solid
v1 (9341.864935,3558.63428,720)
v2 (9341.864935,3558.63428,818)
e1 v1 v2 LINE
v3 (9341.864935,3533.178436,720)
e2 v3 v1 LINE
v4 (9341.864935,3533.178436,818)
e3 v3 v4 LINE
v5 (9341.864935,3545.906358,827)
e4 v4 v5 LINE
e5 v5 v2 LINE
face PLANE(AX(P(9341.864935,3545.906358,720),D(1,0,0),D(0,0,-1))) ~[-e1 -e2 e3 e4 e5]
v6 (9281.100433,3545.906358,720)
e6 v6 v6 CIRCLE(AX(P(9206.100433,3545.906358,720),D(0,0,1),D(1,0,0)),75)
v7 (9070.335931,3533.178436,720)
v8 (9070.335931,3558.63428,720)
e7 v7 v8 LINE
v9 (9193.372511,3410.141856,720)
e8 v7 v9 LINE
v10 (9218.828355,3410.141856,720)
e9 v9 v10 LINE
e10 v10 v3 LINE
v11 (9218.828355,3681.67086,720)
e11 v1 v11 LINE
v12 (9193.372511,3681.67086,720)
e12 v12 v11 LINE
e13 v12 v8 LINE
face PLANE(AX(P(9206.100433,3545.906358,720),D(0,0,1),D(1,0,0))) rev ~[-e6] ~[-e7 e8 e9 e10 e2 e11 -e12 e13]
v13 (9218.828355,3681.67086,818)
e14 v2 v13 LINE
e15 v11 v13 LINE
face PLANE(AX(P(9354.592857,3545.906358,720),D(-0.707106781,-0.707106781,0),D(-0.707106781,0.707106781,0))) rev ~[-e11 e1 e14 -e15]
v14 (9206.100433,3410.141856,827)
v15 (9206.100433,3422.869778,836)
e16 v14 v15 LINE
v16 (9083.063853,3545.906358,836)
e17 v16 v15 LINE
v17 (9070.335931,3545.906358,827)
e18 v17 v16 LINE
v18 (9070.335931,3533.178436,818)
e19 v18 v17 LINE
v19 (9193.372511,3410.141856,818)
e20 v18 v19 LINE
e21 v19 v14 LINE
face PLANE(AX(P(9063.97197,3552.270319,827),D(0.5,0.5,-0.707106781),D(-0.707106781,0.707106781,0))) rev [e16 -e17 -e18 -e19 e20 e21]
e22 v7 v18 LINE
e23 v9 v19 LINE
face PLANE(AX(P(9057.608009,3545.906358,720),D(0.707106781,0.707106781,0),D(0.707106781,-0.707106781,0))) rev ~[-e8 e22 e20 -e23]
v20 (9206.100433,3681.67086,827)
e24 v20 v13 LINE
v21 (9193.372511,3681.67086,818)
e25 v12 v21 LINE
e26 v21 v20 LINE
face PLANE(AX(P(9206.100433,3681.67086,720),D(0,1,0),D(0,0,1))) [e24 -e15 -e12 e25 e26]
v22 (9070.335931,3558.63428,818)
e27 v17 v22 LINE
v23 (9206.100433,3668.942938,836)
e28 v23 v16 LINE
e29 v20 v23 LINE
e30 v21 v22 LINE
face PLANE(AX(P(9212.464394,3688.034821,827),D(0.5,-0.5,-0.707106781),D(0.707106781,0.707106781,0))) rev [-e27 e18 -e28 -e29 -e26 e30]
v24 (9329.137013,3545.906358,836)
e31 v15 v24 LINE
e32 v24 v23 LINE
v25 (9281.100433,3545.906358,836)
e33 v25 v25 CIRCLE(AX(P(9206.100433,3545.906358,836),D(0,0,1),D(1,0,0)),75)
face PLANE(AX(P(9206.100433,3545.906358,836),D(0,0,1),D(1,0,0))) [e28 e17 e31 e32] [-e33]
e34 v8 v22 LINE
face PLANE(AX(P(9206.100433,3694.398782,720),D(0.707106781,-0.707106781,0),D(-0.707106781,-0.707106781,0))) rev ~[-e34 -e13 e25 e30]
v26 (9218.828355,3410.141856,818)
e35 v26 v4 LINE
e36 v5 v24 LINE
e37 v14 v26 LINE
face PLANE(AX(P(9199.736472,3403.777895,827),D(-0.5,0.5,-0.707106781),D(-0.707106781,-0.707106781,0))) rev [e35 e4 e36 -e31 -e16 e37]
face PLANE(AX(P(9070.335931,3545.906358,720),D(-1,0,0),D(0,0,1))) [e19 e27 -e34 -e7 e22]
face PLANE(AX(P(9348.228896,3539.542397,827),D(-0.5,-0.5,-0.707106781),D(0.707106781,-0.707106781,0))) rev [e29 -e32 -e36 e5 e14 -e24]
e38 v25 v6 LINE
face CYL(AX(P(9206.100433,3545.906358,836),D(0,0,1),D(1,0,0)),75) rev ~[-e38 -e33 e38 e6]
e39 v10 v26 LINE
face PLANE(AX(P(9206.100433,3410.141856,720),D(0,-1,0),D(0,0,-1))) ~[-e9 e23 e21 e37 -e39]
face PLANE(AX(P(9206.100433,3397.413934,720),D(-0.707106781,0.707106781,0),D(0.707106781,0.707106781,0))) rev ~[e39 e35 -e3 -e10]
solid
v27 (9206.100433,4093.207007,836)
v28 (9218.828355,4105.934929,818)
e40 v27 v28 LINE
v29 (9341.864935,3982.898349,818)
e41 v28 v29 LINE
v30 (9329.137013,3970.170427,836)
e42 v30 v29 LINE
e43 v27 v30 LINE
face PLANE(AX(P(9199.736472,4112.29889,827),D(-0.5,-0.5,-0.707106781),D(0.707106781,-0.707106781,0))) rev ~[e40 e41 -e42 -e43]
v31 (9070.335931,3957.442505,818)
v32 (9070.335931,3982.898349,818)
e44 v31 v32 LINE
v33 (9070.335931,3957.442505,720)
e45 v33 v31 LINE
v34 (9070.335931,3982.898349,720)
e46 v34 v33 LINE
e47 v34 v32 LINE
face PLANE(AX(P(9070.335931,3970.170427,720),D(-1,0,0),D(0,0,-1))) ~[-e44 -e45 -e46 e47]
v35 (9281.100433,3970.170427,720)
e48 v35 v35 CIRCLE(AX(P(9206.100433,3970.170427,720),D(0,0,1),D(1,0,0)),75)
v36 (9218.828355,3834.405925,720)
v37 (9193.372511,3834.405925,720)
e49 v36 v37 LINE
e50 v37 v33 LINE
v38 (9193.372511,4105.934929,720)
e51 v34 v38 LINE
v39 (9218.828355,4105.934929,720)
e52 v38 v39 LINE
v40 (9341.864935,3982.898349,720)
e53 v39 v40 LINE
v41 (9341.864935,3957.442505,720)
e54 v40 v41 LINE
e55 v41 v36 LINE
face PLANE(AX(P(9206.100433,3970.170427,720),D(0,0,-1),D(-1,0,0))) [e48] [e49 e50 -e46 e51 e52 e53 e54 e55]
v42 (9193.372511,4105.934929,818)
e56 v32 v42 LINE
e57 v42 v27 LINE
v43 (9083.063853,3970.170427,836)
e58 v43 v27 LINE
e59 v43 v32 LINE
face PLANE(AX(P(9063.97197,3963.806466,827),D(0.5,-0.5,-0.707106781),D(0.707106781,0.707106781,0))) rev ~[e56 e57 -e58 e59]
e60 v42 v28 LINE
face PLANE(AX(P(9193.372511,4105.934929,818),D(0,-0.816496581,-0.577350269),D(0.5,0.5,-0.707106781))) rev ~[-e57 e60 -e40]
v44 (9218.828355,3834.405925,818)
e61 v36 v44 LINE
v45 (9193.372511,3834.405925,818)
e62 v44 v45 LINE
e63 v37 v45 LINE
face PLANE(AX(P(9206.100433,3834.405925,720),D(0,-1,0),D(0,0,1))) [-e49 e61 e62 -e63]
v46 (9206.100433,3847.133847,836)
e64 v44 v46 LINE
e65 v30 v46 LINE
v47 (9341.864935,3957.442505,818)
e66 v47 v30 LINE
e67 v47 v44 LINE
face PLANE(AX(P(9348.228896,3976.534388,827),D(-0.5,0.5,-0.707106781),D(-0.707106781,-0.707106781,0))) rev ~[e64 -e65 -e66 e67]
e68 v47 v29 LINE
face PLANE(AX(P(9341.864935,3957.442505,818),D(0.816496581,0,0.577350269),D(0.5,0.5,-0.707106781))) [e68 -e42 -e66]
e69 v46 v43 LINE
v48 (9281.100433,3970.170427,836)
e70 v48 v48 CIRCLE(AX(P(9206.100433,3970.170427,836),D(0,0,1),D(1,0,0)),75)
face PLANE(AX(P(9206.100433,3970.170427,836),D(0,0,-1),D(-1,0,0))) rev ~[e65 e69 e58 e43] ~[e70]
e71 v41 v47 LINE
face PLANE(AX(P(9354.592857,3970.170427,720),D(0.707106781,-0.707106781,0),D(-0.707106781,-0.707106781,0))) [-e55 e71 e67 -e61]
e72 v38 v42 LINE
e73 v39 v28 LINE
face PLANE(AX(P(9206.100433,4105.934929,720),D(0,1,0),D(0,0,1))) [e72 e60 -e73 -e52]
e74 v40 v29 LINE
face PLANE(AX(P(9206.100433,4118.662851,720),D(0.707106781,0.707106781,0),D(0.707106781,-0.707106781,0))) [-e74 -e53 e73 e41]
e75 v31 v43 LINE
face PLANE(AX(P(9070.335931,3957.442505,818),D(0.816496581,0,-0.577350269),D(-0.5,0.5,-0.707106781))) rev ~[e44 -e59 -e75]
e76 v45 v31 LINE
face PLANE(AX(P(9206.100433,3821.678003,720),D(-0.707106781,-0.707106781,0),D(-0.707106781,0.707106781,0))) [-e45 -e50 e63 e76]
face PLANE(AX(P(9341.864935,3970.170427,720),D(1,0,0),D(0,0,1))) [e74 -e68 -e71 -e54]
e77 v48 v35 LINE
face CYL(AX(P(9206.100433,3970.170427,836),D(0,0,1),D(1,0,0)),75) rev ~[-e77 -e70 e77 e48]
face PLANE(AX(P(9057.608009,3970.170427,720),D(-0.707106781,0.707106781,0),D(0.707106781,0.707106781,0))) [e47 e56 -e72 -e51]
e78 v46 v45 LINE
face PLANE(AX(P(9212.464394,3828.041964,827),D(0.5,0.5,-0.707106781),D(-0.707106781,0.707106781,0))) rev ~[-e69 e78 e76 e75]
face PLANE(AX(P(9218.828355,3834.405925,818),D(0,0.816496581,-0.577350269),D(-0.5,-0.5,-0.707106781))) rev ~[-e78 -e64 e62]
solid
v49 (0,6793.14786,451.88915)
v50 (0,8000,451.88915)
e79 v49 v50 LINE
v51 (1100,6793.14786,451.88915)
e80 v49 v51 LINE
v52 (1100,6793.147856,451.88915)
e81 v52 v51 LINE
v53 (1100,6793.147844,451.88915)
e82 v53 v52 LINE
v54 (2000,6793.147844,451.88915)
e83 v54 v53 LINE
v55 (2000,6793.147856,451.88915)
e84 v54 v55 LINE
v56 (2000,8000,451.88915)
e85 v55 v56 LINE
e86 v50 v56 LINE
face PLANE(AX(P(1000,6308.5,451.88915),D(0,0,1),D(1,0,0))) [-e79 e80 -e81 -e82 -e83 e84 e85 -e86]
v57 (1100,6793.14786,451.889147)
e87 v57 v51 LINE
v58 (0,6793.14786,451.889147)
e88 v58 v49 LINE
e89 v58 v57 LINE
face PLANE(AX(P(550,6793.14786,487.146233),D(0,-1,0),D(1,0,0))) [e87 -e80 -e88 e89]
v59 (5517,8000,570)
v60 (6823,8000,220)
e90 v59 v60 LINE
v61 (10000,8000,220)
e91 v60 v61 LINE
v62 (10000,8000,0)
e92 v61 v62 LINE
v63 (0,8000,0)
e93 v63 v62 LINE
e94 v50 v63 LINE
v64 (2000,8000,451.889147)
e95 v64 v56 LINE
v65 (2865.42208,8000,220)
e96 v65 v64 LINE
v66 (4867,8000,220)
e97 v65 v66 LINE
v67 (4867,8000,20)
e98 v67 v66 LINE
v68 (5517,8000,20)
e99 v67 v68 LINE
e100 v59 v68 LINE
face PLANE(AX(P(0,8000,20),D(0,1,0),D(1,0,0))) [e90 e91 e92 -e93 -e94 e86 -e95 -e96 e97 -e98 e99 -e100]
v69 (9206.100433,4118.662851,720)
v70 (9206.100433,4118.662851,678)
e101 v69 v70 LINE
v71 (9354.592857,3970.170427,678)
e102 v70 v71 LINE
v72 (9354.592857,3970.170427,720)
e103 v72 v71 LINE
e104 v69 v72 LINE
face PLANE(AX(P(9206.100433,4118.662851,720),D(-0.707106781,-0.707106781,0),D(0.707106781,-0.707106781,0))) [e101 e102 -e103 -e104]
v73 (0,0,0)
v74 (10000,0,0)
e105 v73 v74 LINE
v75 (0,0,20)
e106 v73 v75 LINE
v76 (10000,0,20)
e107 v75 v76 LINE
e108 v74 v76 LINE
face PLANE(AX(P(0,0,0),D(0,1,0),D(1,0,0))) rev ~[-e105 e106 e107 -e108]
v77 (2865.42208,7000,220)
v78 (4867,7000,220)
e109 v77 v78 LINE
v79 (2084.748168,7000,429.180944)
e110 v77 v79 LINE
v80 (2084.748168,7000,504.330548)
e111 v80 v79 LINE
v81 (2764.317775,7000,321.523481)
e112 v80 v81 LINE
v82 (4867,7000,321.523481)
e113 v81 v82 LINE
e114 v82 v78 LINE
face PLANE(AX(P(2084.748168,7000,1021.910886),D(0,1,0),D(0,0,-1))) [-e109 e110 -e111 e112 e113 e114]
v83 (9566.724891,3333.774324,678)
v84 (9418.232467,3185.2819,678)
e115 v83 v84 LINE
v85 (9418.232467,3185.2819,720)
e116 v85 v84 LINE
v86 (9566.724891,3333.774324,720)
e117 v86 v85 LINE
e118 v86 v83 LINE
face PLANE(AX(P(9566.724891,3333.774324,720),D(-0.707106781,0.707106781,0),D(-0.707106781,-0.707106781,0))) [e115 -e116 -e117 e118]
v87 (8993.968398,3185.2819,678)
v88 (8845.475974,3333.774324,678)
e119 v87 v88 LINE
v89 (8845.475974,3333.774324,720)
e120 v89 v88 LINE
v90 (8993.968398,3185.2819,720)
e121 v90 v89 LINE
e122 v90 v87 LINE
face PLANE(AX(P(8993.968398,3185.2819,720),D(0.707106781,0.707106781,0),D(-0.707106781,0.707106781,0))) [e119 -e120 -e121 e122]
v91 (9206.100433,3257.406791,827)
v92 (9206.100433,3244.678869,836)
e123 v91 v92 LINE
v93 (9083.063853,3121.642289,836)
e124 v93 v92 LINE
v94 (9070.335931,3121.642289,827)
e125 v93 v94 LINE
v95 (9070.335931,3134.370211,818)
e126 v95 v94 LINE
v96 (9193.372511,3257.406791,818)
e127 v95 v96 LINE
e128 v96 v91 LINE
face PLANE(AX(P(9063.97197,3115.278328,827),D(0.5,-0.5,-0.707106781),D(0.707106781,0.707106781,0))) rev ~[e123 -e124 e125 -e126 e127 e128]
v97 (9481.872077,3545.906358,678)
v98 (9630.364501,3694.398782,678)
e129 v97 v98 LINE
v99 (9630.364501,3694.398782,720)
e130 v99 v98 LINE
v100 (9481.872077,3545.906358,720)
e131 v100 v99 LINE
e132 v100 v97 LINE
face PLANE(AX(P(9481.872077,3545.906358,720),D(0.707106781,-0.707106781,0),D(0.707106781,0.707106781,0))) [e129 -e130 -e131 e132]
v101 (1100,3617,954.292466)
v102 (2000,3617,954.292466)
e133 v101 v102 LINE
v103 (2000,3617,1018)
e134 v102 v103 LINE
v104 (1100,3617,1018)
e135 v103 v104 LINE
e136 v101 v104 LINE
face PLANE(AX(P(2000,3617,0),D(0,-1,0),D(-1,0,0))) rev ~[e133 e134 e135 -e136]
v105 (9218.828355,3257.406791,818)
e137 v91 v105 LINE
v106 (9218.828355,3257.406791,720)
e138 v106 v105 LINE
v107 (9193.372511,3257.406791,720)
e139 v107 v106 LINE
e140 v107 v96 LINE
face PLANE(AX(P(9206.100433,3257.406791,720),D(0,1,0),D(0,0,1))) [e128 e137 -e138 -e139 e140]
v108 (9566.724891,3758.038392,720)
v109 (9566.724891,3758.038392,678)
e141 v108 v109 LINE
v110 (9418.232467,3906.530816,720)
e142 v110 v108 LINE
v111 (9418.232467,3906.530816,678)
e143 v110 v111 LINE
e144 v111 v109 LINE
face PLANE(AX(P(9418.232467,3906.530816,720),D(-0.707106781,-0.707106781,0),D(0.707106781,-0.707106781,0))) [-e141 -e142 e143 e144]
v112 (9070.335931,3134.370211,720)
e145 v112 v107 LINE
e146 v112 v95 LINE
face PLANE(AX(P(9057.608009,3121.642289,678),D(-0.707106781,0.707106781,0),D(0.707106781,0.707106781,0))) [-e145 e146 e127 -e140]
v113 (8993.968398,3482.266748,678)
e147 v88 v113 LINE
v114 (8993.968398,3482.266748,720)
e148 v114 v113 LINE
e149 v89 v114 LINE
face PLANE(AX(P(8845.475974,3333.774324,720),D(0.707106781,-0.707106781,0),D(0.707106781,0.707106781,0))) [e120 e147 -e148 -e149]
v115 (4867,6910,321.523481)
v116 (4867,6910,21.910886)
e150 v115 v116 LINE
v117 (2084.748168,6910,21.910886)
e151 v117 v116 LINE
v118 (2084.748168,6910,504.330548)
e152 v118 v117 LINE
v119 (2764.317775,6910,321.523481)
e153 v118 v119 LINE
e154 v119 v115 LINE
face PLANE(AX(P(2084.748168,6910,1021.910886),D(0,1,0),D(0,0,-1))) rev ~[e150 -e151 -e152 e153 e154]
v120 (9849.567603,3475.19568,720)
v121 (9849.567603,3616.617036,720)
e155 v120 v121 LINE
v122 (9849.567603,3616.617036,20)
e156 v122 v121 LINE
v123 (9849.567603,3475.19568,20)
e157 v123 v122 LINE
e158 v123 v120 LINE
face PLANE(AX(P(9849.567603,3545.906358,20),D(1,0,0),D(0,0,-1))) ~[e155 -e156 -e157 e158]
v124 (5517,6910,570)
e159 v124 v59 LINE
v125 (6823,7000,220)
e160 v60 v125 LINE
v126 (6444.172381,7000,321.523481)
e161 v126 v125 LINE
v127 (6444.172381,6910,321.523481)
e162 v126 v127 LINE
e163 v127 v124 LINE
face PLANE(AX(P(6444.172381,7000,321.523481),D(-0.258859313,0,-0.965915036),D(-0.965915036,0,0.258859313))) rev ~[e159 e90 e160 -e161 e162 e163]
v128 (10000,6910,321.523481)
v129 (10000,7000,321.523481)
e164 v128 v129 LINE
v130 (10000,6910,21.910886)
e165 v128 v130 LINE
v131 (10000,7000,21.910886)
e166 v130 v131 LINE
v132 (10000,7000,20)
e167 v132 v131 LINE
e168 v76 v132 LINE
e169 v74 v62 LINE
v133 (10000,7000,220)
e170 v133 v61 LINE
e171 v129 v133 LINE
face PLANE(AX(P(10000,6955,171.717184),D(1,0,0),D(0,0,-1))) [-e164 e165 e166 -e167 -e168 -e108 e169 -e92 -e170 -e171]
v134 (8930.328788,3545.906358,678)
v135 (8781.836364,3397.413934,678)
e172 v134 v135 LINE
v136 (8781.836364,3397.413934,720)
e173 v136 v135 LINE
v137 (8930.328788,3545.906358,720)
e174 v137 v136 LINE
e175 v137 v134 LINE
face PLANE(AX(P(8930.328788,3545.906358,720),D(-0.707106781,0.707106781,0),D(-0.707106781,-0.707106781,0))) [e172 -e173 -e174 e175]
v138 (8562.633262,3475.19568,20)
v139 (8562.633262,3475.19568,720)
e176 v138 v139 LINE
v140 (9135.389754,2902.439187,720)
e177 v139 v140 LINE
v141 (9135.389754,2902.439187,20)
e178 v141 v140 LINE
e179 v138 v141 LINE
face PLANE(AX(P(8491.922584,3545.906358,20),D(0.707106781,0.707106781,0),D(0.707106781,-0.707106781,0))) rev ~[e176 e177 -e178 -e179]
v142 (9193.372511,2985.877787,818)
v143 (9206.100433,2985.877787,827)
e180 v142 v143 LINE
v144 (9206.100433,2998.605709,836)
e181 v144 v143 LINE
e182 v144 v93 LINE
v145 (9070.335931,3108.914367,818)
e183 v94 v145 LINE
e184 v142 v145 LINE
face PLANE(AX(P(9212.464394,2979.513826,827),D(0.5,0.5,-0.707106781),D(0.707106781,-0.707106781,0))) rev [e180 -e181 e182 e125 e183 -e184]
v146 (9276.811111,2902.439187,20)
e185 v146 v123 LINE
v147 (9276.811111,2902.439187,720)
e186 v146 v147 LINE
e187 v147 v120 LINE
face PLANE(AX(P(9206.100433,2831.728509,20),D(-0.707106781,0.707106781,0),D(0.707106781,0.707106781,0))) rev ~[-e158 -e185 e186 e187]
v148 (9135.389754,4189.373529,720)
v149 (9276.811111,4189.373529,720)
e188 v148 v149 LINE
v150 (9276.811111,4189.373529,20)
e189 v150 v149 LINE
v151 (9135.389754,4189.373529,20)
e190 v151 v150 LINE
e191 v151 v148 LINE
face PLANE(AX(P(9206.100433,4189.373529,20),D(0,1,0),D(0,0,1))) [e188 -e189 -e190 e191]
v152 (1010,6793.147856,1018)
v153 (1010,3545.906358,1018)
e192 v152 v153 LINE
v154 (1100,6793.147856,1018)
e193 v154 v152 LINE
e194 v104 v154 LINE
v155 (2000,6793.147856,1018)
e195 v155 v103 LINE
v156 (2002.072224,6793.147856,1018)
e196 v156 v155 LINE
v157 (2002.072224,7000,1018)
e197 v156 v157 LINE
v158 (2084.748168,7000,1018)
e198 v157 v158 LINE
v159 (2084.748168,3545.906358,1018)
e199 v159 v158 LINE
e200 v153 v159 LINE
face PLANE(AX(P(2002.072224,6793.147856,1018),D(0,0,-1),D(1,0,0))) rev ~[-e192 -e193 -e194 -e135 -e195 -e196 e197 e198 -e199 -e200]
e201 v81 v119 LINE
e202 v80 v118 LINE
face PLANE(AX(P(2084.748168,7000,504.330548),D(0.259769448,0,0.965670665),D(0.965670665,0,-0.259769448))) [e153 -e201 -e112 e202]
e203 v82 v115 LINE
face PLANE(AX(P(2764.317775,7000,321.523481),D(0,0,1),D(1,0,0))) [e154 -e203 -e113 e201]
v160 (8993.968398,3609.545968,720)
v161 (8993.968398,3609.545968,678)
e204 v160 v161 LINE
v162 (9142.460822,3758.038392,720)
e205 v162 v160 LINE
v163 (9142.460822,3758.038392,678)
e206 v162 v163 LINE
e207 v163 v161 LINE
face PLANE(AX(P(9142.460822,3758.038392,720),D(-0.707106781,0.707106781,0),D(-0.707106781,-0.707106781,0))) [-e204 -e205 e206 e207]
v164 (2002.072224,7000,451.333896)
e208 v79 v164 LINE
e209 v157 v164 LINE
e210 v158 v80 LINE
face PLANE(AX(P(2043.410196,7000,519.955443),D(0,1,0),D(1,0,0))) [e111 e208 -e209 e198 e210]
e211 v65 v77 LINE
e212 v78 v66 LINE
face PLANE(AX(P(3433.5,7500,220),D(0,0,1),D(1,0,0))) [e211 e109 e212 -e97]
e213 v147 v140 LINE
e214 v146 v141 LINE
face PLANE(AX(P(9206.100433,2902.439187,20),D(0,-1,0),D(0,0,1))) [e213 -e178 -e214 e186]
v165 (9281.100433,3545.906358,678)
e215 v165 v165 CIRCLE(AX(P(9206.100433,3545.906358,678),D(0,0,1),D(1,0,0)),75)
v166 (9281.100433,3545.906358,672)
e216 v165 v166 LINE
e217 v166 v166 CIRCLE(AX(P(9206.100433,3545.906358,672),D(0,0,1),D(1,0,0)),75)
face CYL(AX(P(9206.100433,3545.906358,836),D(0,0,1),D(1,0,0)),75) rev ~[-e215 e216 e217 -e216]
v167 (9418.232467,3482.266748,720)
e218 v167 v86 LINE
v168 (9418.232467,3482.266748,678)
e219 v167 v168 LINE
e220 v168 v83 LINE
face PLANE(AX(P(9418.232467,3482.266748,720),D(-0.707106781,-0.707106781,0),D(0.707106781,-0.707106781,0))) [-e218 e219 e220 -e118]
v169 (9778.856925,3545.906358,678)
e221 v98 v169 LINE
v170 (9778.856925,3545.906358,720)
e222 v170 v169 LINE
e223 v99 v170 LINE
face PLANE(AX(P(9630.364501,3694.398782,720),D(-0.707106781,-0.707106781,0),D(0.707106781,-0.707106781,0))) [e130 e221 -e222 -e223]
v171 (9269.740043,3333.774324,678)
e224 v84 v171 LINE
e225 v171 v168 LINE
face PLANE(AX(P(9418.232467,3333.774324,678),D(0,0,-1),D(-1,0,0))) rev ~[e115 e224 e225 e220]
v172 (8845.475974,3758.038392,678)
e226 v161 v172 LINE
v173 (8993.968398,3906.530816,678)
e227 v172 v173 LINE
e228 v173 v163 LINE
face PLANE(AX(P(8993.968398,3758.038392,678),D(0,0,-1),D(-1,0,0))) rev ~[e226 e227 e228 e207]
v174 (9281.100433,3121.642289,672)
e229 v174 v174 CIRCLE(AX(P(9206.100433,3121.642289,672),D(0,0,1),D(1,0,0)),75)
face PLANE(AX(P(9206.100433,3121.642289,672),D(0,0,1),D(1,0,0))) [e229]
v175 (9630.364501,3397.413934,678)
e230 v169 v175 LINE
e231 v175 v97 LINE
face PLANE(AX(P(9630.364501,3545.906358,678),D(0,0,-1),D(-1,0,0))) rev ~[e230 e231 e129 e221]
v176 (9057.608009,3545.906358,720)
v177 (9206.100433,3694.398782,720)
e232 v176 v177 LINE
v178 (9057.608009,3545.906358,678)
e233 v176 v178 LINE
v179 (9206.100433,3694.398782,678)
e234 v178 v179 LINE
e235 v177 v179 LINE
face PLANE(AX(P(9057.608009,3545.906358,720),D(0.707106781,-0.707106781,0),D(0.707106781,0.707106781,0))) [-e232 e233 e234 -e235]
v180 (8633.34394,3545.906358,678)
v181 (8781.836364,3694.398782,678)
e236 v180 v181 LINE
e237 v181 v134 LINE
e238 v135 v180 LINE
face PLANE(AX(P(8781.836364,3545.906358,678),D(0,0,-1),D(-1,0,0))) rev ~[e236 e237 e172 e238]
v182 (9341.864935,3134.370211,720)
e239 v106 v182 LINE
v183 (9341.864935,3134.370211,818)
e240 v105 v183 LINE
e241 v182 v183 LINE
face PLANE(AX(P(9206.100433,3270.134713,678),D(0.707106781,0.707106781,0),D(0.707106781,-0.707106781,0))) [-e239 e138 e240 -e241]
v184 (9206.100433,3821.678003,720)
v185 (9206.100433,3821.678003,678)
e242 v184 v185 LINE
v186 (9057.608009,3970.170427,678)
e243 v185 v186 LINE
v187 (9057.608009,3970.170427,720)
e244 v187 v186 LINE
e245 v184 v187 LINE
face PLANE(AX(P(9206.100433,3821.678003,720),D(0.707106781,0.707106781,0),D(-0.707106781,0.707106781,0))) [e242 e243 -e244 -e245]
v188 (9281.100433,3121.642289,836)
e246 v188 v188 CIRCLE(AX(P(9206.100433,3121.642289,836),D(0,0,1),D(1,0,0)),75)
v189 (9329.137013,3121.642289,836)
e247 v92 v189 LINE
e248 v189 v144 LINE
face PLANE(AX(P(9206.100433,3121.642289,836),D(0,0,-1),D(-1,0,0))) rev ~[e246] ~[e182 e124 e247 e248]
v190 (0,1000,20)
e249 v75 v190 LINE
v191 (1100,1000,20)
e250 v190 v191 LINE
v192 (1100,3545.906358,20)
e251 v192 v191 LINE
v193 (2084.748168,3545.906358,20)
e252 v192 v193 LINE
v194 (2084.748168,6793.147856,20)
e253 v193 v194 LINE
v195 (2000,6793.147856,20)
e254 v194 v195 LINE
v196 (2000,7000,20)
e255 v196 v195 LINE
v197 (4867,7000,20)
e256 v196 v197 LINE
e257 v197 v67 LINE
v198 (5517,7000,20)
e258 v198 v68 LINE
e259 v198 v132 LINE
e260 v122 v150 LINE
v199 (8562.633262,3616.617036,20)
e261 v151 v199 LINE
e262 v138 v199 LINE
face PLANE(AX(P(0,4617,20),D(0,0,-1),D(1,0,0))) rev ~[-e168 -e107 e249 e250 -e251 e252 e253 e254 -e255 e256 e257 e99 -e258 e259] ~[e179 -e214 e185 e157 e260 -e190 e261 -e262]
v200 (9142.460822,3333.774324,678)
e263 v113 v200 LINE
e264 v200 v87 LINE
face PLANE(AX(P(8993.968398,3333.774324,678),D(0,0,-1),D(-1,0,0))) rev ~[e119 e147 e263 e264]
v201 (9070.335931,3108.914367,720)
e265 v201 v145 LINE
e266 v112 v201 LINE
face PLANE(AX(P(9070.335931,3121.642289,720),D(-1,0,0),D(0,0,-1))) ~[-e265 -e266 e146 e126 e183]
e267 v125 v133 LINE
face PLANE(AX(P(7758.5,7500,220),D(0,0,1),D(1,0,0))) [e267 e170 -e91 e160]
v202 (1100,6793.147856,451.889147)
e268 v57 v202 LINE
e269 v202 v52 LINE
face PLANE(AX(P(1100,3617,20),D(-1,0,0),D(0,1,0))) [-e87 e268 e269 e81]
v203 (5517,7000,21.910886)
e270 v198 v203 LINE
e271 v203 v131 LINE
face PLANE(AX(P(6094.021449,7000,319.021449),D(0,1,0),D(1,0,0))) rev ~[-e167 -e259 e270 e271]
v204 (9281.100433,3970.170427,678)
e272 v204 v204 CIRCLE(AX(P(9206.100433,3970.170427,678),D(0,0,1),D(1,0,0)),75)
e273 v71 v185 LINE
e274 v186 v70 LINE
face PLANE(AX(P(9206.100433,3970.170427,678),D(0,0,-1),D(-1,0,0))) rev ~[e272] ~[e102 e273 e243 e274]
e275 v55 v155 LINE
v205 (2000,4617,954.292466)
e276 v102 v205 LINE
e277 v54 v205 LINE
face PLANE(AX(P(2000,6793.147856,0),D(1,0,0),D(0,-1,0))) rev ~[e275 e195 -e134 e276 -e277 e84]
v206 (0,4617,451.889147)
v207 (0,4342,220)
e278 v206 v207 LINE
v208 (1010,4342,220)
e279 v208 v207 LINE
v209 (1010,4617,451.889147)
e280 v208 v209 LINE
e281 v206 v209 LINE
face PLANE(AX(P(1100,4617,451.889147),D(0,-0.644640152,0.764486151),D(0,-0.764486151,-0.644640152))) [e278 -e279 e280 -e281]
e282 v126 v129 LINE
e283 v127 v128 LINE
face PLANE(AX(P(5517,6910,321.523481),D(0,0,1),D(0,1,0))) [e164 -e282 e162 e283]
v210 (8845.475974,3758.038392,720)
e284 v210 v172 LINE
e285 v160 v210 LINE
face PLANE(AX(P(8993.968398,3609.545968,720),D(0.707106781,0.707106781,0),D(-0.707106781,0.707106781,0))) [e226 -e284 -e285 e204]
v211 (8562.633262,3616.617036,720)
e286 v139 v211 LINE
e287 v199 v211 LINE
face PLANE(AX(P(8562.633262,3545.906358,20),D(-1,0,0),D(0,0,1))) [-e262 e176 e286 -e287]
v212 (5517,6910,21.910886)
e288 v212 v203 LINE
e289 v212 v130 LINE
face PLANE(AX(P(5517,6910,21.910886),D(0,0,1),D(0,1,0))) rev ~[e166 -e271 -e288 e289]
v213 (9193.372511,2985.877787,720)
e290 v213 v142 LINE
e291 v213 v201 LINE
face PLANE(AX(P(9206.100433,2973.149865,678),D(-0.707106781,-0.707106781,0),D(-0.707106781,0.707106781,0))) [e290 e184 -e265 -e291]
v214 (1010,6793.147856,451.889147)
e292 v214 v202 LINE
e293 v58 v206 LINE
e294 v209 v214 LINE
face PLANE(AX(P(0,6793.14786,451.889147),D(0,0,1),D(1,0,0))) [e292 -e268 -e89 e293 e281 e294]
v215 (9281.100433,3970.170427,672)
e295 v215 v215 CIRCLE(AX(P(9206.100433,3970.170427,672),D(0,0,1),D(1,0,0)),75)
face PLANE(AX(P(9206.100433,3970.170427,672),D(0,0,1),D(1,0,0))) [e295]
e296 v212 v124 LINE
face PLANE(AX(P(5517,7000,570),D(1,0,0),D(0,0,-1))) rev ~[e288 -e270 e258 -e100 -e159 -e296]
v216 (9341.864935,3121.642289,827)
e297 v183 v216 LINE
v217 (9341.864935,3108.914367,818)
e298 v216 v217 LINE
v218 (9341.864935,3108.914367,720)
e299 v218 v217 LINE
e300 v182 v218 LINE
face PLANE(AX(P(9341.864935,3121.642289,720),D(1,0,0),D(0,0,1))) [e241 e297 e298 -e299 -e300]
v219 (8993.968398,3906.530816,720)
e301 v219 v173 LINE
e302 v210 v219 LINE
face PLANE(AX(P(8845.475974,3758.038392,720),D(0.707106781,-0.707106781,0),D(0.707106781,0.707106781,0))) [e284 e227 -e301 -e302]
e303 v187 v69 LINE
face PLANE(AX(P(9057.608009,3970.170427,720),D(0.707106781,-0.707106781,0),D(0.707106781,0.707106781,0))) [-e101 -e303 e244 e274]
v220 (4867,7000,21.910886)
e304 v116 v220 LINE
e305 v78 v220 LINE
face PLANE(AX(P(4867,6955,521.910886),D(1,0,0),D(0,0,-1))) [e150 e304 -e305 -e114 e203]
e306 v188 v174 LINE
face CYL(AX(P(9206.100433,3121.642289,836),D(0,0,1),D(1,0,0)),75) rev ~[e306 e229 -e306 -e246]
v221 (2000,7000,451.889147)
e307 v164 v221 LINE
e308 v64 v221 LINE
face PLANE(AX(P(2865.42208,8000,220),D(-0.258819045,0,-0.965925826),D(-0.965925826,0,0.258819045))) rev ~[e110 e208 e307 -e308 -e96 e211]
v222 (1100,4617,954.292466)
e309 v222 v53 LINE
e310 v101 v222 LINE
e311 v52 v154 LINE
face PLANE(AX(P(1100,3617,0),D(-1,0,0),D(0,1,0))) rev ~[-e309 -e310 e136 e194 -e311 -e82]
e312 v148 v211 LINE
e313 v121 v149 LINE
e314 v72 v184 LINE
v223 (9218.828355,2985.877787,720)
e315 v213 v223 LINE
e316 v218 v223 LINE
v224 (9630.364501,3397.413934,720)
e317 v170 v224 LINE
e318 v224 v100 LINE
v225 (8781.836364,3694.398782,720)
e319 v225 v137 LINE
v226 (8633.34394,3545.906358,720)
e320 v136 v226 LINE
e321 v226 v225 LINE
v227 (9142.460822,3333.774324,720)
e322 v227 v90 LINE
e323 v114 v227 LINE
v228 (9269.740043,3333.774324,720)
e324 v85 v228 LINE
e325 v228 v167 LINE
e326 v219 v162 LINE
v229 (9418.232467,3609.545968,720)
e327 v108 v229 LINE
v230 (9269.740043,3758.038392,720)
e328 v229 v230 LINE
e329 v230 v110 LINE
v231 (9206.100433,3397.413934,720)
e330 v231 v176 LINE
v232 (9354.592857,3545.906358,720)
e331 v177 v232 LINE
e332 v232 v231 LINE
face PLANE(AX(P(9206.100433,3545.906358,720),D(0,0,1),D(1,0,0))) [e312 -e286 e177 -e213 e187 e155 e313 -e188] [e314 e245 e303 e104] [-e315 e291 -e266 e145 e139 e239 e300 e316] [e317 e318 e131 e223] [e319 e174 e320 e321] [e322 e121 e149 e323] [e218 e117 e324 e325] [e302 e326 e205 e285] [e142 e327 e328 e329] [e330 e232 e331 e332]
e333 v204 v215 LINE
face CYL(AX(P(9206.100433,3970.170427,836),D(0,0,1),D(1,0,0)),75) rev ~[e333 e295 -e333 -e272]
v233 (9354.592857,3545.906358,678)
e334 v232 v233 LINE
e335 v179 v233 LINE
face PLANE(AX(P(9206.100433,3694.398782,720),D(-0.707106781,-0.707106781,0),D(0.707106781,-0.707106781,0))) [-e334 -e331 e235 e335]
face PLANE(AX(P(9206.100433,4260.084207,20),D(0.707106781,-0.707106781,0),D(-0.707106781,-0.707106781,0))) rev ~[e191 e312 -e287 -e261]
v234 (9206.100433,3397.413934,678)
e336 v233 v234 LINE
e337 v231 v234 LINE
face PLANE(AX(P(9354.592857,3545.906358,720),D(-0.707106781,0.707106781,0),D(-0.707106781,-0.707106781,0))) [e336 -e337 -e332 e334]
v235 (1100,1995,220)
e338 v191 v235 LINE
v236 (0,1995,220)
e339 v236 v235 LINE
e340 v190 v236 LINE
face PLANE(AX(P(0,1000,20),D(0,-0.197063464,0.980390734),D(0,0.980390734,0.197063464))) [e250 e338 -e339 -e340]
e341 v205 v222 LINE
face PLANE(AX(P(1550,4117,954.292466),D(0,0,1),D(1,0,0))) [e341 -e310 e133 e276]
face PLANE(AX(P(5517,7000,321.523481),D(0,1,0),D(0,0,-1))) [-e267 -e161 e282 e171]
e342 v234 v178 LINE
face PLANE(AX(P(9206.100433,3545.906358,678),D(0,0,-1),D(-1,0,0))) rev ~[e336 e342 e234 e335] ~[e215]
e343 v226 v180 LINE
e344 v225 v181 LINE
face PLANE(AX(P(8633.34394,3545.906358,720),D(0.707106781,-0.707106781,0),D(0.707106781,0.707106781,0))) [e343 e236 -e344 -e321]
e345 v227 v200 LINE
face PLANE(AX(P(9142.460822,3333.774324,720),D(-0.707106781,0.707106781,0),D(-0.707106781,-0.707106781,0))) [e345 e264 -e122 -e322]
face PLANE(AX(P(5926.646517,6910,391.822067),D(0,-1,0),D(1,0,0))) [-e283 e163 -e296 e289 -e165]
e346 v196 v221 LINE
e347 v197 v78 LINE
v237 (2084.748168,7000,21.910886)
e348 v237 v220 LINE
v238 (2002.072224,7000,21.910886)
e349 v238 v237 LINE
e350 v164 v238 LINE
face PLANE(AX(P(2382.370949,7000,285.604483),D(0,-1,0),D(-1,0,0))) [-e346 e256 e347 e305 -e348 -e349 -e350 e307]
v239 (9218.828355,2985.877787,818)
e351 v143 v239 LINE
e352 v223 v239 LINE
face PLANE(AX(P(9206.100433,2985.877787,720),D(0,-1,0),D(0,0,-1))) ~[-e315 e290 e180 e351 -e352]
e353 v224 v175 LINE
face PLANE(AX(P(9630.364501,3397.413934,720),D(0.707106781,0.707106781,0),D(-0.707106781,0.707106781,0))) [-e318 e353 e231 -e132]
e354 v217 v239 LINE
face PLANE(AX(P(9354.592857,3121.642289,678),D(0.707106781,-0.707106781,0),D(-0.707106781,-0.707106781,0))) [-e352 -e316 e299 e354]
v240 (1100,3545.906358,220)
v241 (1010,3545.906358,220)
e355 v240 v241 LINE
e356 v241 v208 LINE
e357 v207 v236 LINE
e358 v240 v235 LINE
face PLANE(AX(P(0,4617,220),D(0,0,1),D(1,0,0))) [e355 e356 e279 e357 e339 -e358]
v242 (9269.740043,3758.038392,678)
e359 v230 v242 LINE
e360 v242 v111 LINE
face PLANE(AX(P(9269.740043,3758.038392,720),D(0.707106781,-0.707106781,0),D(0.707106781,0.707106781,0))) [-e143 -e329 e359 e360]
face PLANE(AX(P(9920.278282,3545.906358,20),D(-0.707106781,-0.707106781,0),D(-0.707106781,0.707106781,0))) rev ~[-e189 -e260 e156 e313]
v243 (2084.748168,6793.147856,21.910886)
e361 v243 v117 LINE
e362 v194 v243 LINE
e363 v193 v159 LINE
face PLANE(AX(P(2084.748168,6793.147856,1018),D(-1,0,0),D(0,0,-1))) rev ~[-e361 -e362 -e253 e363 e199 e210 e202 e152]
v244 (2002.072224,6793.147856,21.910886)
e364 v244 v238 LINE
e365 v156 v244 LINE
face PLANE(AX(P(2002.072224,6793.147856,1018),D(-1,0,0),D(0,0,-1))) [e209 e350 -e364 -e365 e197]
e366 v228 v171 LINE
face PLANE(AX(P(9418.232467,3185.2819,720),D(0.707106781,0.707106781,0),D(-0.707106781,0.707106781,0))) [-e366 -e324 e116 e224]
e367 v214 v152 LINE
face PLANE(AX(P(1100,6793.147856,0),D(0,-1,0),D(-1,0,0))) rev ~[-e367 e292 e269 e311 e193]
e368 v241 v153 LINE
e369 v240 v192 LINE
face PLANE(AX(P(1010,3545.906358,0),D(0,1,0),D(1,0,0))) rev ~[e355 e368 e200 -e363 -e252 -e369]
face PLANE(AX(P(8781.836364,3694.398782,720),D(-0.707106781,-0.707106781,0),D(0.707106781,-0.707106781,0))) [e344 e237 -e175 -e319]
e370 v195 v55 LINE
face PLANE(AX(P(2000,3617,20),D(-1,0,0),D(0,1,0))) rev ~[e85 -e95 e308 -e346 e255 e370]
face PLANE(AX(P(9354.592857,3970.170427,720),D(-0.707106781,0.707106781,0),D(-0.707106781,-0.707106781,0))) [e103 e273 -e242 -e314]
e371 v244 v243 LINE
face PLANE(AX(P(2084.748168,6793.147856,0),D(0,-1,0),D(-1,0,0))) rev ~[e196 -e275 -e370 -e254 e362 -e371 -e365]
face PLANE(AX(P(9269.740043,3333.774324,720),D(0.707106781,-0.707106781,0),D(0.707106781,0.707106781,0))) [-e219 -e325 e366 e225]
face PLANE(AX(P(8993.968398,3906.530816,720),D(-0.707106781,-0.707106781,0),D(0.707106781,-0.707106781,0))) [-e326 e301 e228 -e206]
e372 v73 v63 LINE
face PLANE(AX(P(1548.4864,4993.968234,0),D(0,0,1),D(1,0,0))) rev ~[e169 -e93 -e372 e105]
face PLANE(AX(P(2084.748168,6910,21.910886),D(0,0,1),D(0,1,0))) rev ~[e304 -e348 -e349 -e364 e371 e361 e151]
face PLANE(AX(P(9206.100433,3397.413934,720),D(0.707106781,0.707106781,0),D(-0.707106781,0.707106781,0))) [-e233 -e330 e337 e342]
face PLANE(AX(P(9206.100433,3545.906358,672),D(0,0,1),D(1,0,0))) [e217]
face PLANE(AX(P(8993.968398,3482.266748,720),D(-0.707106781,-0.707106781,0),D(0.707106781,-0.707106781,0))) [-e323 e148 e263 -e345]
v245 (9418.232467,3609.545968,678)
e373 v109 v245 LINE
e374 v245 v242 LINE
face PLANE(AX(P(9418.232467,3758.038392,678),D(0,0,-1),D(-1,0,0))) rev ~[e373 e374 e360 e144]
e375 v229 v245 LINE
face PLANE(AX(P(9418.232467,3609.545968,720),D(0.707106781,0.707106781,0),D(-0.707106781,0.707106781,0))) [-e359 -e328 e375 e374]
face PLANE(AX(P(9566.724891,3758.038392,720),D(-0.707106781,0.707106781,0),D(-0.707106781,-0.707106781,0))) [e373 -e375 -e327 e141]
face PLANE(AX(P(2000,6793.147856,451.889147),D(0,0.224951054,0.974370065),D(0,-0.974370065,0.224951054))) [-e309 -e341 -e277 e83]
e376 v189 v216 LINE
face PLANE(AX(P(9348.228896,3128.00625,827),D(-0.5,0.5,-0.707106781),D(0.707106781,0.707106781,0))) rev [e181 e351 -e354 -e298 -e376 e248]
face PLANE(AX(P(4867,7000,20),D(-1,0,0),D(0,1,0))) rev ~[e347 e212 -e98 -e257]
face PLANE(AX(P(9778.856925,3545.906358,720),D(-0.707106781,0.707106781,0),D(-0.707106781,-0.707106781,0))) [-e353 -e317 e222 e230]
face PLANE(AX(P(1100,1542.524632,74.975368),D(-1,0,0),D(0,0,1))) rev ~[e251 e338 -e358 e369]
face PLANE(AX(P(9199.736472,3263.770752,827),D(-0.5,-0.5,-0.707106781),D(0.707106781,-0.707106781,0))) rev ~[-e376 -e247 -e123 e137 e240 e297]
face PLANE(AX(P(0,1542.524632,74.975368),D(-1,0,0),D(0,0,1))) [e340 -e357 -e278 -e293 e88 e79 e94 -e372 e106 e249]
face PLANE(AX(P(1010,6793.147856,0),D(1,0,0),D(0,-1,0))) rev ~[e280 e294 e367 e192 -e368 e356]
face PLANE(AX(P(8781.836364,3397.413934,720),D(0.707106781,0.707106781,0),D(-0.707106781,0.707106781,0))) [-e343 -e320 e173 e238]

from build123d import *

# Parameters (mm, degrees)
SKETCH_1_W                  = 10000
SKETCH_1_H                  = 8000
EXTRUDE_1_DEPTH             = 20
SKETCH_2_W                  = 4483
SKETCH_2_H                  = 1000
EXTRUDE_2_DEPTH             = 200
EXTRUDE_3_DEPTH             = 1000
SKETCH_5_W                  = 2867
SKETCH_5_H                  = 1000
EXTRUDE_4_DEPTH             = 200
EXTRUDE_5_DEPTH             = 1000
SKETCH_7_W                  = 2000
SKETCH_7_H                  = 3383
EXTRUDE_6_DEPTH             = 431.88915
EXTRUDE_7_DEPTH             = 2000
SKETCH_10_W                 = 1100
SKETCH_10_H                 = 934.292466456
CUT_EXTRUDE_1_DEPTH         = 2176.14786
EXTRUDE_START               = -4e-06
SKETCH_11_W                 = 1100
SKETCH_11_H                 = 431.889147349
EXTRUDE_8_DEPTH             = 2176.14786
SKETCH_12_W                 = 900
SKETCH_12_H                 = 1000
EXTRUDE_9_DEPTH             = 934.292466
EXTRUDE_10_DEPTH            = 1100
SKETCH_16_W                 = 1100
SKETCH_16_H                 = 200
EXTRUDE_11_DEPTH            = 2622
EXTRUDE_12_DEPTH            = 1100
EXTRUDE_13_DEPTH            = 1018
SKETCH_22_W                 = 82.675943171
SKETCH_22_H                 = 996.089113944
EXTRUDE_14_DEPTH            = 206.852144
SKETCH_23_W                 = 1000
SKETCH_23_H                 = 90
EXTRUDE_15_DEPTH            = 2782.251832
CUT_EXTRUDE_2_DEPTH         = 308
SKETCH_25_W                 = 296.558009181
SKETCH_25_H                 = 236.726130136
CUT_EXTRUDE_3_DEPTH         = 3067
EXTRUDE_START_2             = -4483
SKETCH_26_W                 = 299.612595247
SKETCH_26_H                 = 90
EXTRUDE_16_DEPTH            = 4483
EXTRUDE_17_DEPTH            = 90
EXTRUDE_18_DEPTH            = 700
CHAMFER_1_SIZE              = 100
CUT_EXTRUDE_5_DEPTH         = 42
PATTERN_LINEAR_2_COUNT      = 3
PATTERN_LINEAR_2_PITCH      = 300
PATTERN_LINEAR_2_COUNT_DIR2 = 3
PATTERN_LINEAR_2_PITCH_DIR2 = 300
EXTRUDE_19_DEPTH            = 158
CHAMFER_4_SIZE              = 18
CHAMFER_5_SIZE              = 18
EXTRUDE_20_DEPTH            = 116
CHAMFER_6_SIZE              = 18
CHAMFER_7_SIZE              = 18
EXTRUDE_21_DEPTH            = 116
CHAMFER_8_SIZE              = 18
SKETCH_41_R                 = 75
CUT_EXTRUDE_6_DEPTH         = 164
SKETCH_42_R                 = 75
CUT_EXTRUDE_7_DEPTH         = 164
SKETCH_43_R                 = 75
CUT_EXTRUDE_8_DEPTH         = 164


with BuildPart() as part:
    # 草图1 → 凸台-拉伸1 (new body)
    with BuildSketch(Plane.XY):
        with Locations((5000, 4000)):
            Rectangle(SKETCH_1_W, SKETCH_1_H)
    extrude(amount=EXTRUDE_1_DEPTH)

    # 草图2 → 凸台-拉伸2 (add)
    with BuildSketch(Plane.XY.offset(20)):
        with Locations((7758.5, 7500)):
            Rectangle(SKETCH_2_W, SKETCH_2_H)
    extrude(amount=EXTRUDE_2_DEPTH)

    # 草图3 → 凸台-拉伸3 (add)
    with BuildSketch(Plane(origin=(0, 8000, 0), x_dir=(1, 0, 0), z_dir=(0, 1, 0))):
        Polygon((5517, -220), (5517, -570), (6823, -220), align=None)
    extrude(amount=-EXTRUDE_3_DEPTH)

    # 草图5 → 凸台-拉伸4 (add)
    with BuildSketch(Plane.XY.offset(20)):
        with Locations((3433.5, 7500)):
            Rectangle(SKETCH_5_W, SKETCH_5_H)
    extrude(amount=EXTRUDE_4_DEPTH)

    # 草图6 → 凸台-拉伸5 (add)
    with BuildSketch(Plane(origin=(0, 8000, 0), x_dir=(1, 0, 0), z_dir=(0, 1, 0))):
        Polygon((2000, -220), (2865.42207963, -220), (2000, -451.889147349), align=None)
    extrude(amount=-EXTRUDE_5_DEPTH)

    # 草图7 → 凸台-拉伸6 (add)
    with BuildSketch(Plane.XY.offset(20)):
        with Locations((1000, 6308.5)):
            Rectangle(SKETCH_7_W, SKETCH_7_H)
    extrude(amount=EXTRUDE_6_DEPTH)

    # 草图9 → 凸台-拉伸7 (add)
    with BuildSketch(Plane(origin=(2000, 0, 0), x_dir=(0, 0, -1), z_dir=(1, 0, 0))):
        Polygon((-451.889147349, 4617), (-451.889147349, 6793.147855873), (-954.292466456, 4617), align=None)
    extrude(amount=-EXTRUDE_7_DEPTH)

    # 草图10 → 切除-拉伸1 (cut)
    with BuildSketch(Plane.XZ.offset(-4617)):
        with Locations((550, 487.146233228)):
            Rectangle(SKETCH_10_W, SKETCH_10_H)
    extrude(amount=-CUT_EXTRUDE_1_DEPTH, mode=Mode.SUBTRACT)

    # 草图11 → 凸台-拉伸8 (add)
    with BuildSketch(Plane.XZ.offset(-6793.147855873).offset(EXTRUDE_START)):
        with Locations((550, 235.944573675)):
            Rectangle(SKETCH_11_W, SKETCH_11_H)
    extrude(amount=EXTRUDE_8_DEPTH)

    # 草图12 → 凸台-拉伸9 (add)
    with BuildSketch(Plane.XY.offset(20)):
        with Locations((1550, 4117)):
            Rectangle(SKETCH_12_W, SKETCH_12_H)
    extrude(amount=EXTRUDE_9_DEPTH)

    # 草图14 → 凸台-拉伸10 (add)
    with BuildSketch(Plane.ZY.offset(-1100)):
        Polygon((220, 4342), (220, 4617), (451.889147349, 4617), align=None)
    extrude(amount=EXTRUDE_10_DEPTH)

    # 草图16 → 凸台-拉伸11 (add)
    with BuildSketch(Plane.XZ.offset(-4617)):
        with Locations((550, 120)):
            Rectangle(SKETCH_16_W, SKETCH_16_H)
    extrude(amount=EXTRUDE_11_DEPTH)

    # 草图17 → 凸台-拉伸12 (add)
    with BuildSketch(Plane.ZY):
        Polygon((20, 1995), (20, 1000), (220, 1995), align=None)
    extrude(amount=-EXTRUDE_12_DEPTH)

    # 草图18 → 凸台-拉伸13 (add)
    with BuildSketch(Plane.XY):
        Polygon((1100, 6793.147855873), (1010, 6793.147855873), (1010, 3545.906358022), (2084.748167595, 3545.906358022), (2084.748167595, 6793.147855873), (2000, 6793.147855873), (2000, 3617), (1100, 3617), align=None)
    extrude(amount=EXTRUDE_13_DEPTH)

    # 草图22 → 凸台-拉伸14 (add)
    with BuildSketch(Plane(origin=(0, 6793.147855873, 0), x_dir=(1, 0, 0), z_dir=(0, 1, 0))):
        with Locations((2043.41019601, -519.955443028)):
            Rectangle(SKETCH_22_W, SKETCH_22_H)
    extrude(amount=EXTRUDE_14_DEPTH)

    # 草图23 → 凸台-拉伸15 (add)
    with BuildSketch(Plane(origin=(2084.748167595, 0, 0), x_dir=(0, 0, -1), z_dir=(1, 0, 0))):
        with Locations((-521.910886056, 6955)):
            Rectangle(SKETCH_23_W, SKETCH_23_H)
    extrude(amount=EXTRUDE_15_DEPTH)

    # 草图24 → 切除-拉伸2 (cut)
    with BuildSketch(Plane(origin=(0, 7000, 0), x_dir=(1, 0, 0), z_dir=(0, 1, 0))):
        Polygon((2084.748167595, -1018), (2084.748167595, -504.330547982), (2764.317775175, -321.523481303), (4867, -321.523481303), (4867, -1021.910886056), align=None)
    extrude(amount=-CUT_EXTRUDE_2_DEPTH, mode=Mode.SUBTRACT)


with BuildPart() as cut_extrude_2_piece_1:
    # of the separate pieces the step leaves, piece 1, a body of its own (cut_extrude_2_pieces)
    add(part.part.solids().sort_by_distance((0, 0, 0))[0])

    # 草图26 → 凸台-拉伸16 (add)
    with BuildSketch(Plane(origin=(10000, 0, 0), x_dir=(0, 0, -1), z_dir=(1, 0, 0)).offset(EXTRUDE_START_2)):
        with Locations((-171.71718368, 6955)):
            Rectangle(SKETCH_26_W, SKETCH_26_H)
    extrude(amount=EXTRUDE_16_DEPTH)

    # 草图27 → 凸台-拉伸17 (add)
    with BuildSketch(Plane.XZ.offset(-7000)):
        Polygon((5517, 570), (5517, 321.523481303), (6444.172381196, 321.523481303), align=None)
    extrude(amount=EXTRUDE_17_DEPTH)

    # 草图32 → 凸台-拉伸18 (add)
    with BuildSketch(Plane.XY.offset(20)):
        Polygon((9920.278281584, 3545.906358022), (9206.100432586, 4260.084207021), (8491.922583587, 3545.906358022), (9206.100432586, 2831.728509024), align=None)
    extrude(amount=EXTRUDE_18_DEPTH)

    # 倒角1
    chamfer_1_edges = [cut_extrude_2_piece_1.edges().sort_by_distance(p)[0] for p in [
        (9206.100432586, 2831.728509024, 370),
        (9920.278281584, 3545.906358022, 370),
        (9206.100432586, 4260.084207021, 370),
        (8491.922583587, 3545.906358022, 370),
    ]]
    chamfer(chamfer_1_edges, length=CHAMFER_1_SIZE)

    # 草图35 → 切除-拉伸5 (cut)
    with BuildSketch(Plane.XY.offset(720)):
        Polygon((8633.343939825, 3545.906358022), (8781.836363874, 3694.398782071), (8930.328787923, 3545.906358022), (8781.836363874, 3397.413933973), align=None)
    cut_extrude_5 = extrude(amount=-CUT_EXTRUDE_5_DEPTH, mode=Mode.SUBTRACT)

    # 阵列(线性)2: Cut-Extrude 5 3 × 3
    with Locations(*[Vector(0.7071067811865527, -0.7071067811865424, 0) * (i * PATTERN_LINEAR_2_PITCH) + Vector(0.7071067811865408, 0.7071067811865542, 0) * (j * PATTERN_LINEAR_2_PITCH_DIR2) for i in range(PATTERN_LINEAR_2_COUNT) for j in range(PATTERN_LINEAR_2_COUNT_DIR2) if (i, j) != (0, 0)]):
        add(cut_extrude_5, mode=Mode.SUBTRACT)

    # 草图36 → 凸台-拉伸19 (add)
    with BuildSketch(Plane.XY.offset(678)):
        Polygon((9057.608008537, 3121.64228931), (9206.100432586, 3270.134713359), (9354.592856635, 3121.64228931), (9206.100432586, 2973.149865261), align=None)
    extrude(amount=EXTRUDE_19_DEPTH)

    # 倒角4
    chamfer_4_edges = [cut_extrude_2_piece_1.edges().sort_by_distance(p)[0] for p in [
        (9131.854220561, 3047.396077286, 836),
        (9280.34664461, 3047.396077286, 836),
        (9280.34664461, 3195.888501335, 836),
        (9131.854220561, 3195.888501335, 836),
    ]]
    chamfer(chamfer_4_edges, length=CHAMFER_4_SIZE)

    # 倒角5
    chamfer_5_edges = [cut_extrude_2_piece_1.edges().sort_by_distance(p)[0] for p in [
        (9057.608008537, 3121.64228931, 769),
        (9206.100432586, 3270.134713359, 769),
        (9354.592856635, 3121.64228931, 769),
        (9206.100432586, 2973.149865261, 769),
    ]]
    chamfer(chamfer_5_edges, length=CHAMFER_5_SIZE)


with BuildPart() as cut_extrude_2_piece_2:
    # of the separate pieces the step leaves, piece 2, a body of its own (cut_extrude_2_pieces)
    add(part.part.solids().sort_by_distance((2084.748167595, 6910, 1021.910886056))[0])

    # 草图25 → 切除-拉伸3 (cut)
    with BuildSketch(Plane(origin=(2084.748167595, 0, 0), x_dir=(0, 0, -1), z_dir=(1, 0, 0))):
        with Locations((-1038.303536701, 6926.915216344)):
            Rectangle(SKETCH_25_W, SKETCH_25_H)
    extrude(amount=CUT_EXTRUDE_3_DEPTH, mode=Mode.SUBTRACT)


with BuildPart() as body_2:
    # 草图37 → 凸台-拉伸20 (new body)
    with BuildSketch(Plane.XY.offset(720)):
        Polygon((9057.608008537, 3545.906358022), (9206.100432586, 3397.413933973), (9354.592856635, 3545.906358022), (9206.100432586, 3694.398782071), align=None)
    extrude(amount=EXTRUDE_20_DEPTH)

    # 倒角6
    chamfer_6_edges = [body_2.edges().sort_by_distance(p)[0] for p in [
        (9280.34664461, 3471.660145998, 836),
        (9280.34664461, 3620.152570047, 836),
        (9131.854220561, 3620.152570047, 836),
        (9131.854220561, 3471.660145998, 836),
    ]]
    chamfer(chamfer_6_edges, length=CHAMFER_6_SIZE)

    # 倒角7
    chamfer_7_edges = [body_2.edges().sort_by_distance(p)[0] for p in [
        (9206.100432586, 3694.398782071, 769),
        (9354.592856635, 3545.906358022, 769),
        (9057.608008537, 3545.906358022, 769),
        (9206.100432586, 3397.413933973, 769),
    ]]
    chamfer(chamfer_7_edges, length=CHAMFER_7_SIZE)


with BuildPart() as body_3:
    # 草图38 → 凸台-拉伸21 (new body)
    with BuildSketch(Plane.XY.offset(720)):
        Polygon((9057.608008537, 3970.170426734), (9206.100432586, 4118.662850783), (9354.592856635, 3970.170426734), (9206.100432586, 3821.678002685), align=None)
    extrude(amount=EXTRUDE_21_DEPTH)

    # 倒角8
    chamfer_8_edges = [body_3.edges().sort_by_distance(p)[0] for p in [
        (9280.34664461, 4044.416638759, 836),
        (9131.854220561, 4044.416638759, 836),
        (9131.854220561, 3895.92421471, 836),
        (9280.34664461, 3895.92421471, 836),
        (9057.608008537, 3970.170426734, 778),
        (9206.100432586, 4118.662850783, 778),
        (9354.592856635, 3970.170426734, 778),
        (9206.100432586, 3821.678002685, 778),
    ]]
    chamfer(chamfer_8_edges, length=CHAMFER_8_SIZE)


with BuildPart() as cut_extrude_6_tool:
    # 草图41 → 切除-拉伸6 (new body)
    with BuildSketch(Plane.XY.offset(836)):
        with Locations((9206.100432586, 3970.170426734)):
            Circle(SKETCH_41_R)
    extrude(amount=-CUT_EXTRUDE_6_DEPTH)


with BuildPart() as cut_extrude_2_piece_1_1:
    add(cut_extrude_2_piece_1.part)

    # 切除-拉伸6: cut by cut_extrude_6_tool
    add(cut_extrude_6_tool.part, mode=Mode.SUBTRACT)


with BuildPart() as body_3_1:
    add(body_3.part)

    # 切除-拉伸6: cut by cut_extrude_6_tool
    add(cut_extrude_6_tool.part, mode=Mode.SUBTRACT)


with BuildPart() as cut_extrude_7_tool:
    # 草图42 → 切除-拉伸7 (new body)
    with BuildSketch(Plane.XY.offset(836)):
        with Locations((9206.100432586, 3545.906358022)):
            Circle(SKETCH_42_R)
    extrude(amount=-CUT_EXTRUDE_7_DEPTH)


with BuildPart() as cut_extrude_2_piece_1_2:
    add(cut_extrude_2_piece_1_1.part)

    # 切除-拉伸7: cut by cut_extrude_7_tool
    add(cut_extrude_7_tool.part, mode=Mode.SUBTRACT)

    # 草图43 → 切除-拉伸8 (cut)
    with BuildSketch(Plane.XY.offset(836)):
        with Locations((9206.100432586, 3121.64228931)):
            Circle(SKETCH_43_R)
    extrude(amount=-CUT_EXTRUDE_8_DEPTH, mode=Mode.SUBTRACT)


with BuildPart() as body_2_1:
    add(body_2.part)

    # 切除-拉伸7: cut by cut_extrude_7_tool
    add(cut_extrude_7_tool.part, mode=Mode.SUBTRACT)


solid = Compound([body_3_1.part, cut_extrude_2_piece_1_2.part, body_2_1.part])
